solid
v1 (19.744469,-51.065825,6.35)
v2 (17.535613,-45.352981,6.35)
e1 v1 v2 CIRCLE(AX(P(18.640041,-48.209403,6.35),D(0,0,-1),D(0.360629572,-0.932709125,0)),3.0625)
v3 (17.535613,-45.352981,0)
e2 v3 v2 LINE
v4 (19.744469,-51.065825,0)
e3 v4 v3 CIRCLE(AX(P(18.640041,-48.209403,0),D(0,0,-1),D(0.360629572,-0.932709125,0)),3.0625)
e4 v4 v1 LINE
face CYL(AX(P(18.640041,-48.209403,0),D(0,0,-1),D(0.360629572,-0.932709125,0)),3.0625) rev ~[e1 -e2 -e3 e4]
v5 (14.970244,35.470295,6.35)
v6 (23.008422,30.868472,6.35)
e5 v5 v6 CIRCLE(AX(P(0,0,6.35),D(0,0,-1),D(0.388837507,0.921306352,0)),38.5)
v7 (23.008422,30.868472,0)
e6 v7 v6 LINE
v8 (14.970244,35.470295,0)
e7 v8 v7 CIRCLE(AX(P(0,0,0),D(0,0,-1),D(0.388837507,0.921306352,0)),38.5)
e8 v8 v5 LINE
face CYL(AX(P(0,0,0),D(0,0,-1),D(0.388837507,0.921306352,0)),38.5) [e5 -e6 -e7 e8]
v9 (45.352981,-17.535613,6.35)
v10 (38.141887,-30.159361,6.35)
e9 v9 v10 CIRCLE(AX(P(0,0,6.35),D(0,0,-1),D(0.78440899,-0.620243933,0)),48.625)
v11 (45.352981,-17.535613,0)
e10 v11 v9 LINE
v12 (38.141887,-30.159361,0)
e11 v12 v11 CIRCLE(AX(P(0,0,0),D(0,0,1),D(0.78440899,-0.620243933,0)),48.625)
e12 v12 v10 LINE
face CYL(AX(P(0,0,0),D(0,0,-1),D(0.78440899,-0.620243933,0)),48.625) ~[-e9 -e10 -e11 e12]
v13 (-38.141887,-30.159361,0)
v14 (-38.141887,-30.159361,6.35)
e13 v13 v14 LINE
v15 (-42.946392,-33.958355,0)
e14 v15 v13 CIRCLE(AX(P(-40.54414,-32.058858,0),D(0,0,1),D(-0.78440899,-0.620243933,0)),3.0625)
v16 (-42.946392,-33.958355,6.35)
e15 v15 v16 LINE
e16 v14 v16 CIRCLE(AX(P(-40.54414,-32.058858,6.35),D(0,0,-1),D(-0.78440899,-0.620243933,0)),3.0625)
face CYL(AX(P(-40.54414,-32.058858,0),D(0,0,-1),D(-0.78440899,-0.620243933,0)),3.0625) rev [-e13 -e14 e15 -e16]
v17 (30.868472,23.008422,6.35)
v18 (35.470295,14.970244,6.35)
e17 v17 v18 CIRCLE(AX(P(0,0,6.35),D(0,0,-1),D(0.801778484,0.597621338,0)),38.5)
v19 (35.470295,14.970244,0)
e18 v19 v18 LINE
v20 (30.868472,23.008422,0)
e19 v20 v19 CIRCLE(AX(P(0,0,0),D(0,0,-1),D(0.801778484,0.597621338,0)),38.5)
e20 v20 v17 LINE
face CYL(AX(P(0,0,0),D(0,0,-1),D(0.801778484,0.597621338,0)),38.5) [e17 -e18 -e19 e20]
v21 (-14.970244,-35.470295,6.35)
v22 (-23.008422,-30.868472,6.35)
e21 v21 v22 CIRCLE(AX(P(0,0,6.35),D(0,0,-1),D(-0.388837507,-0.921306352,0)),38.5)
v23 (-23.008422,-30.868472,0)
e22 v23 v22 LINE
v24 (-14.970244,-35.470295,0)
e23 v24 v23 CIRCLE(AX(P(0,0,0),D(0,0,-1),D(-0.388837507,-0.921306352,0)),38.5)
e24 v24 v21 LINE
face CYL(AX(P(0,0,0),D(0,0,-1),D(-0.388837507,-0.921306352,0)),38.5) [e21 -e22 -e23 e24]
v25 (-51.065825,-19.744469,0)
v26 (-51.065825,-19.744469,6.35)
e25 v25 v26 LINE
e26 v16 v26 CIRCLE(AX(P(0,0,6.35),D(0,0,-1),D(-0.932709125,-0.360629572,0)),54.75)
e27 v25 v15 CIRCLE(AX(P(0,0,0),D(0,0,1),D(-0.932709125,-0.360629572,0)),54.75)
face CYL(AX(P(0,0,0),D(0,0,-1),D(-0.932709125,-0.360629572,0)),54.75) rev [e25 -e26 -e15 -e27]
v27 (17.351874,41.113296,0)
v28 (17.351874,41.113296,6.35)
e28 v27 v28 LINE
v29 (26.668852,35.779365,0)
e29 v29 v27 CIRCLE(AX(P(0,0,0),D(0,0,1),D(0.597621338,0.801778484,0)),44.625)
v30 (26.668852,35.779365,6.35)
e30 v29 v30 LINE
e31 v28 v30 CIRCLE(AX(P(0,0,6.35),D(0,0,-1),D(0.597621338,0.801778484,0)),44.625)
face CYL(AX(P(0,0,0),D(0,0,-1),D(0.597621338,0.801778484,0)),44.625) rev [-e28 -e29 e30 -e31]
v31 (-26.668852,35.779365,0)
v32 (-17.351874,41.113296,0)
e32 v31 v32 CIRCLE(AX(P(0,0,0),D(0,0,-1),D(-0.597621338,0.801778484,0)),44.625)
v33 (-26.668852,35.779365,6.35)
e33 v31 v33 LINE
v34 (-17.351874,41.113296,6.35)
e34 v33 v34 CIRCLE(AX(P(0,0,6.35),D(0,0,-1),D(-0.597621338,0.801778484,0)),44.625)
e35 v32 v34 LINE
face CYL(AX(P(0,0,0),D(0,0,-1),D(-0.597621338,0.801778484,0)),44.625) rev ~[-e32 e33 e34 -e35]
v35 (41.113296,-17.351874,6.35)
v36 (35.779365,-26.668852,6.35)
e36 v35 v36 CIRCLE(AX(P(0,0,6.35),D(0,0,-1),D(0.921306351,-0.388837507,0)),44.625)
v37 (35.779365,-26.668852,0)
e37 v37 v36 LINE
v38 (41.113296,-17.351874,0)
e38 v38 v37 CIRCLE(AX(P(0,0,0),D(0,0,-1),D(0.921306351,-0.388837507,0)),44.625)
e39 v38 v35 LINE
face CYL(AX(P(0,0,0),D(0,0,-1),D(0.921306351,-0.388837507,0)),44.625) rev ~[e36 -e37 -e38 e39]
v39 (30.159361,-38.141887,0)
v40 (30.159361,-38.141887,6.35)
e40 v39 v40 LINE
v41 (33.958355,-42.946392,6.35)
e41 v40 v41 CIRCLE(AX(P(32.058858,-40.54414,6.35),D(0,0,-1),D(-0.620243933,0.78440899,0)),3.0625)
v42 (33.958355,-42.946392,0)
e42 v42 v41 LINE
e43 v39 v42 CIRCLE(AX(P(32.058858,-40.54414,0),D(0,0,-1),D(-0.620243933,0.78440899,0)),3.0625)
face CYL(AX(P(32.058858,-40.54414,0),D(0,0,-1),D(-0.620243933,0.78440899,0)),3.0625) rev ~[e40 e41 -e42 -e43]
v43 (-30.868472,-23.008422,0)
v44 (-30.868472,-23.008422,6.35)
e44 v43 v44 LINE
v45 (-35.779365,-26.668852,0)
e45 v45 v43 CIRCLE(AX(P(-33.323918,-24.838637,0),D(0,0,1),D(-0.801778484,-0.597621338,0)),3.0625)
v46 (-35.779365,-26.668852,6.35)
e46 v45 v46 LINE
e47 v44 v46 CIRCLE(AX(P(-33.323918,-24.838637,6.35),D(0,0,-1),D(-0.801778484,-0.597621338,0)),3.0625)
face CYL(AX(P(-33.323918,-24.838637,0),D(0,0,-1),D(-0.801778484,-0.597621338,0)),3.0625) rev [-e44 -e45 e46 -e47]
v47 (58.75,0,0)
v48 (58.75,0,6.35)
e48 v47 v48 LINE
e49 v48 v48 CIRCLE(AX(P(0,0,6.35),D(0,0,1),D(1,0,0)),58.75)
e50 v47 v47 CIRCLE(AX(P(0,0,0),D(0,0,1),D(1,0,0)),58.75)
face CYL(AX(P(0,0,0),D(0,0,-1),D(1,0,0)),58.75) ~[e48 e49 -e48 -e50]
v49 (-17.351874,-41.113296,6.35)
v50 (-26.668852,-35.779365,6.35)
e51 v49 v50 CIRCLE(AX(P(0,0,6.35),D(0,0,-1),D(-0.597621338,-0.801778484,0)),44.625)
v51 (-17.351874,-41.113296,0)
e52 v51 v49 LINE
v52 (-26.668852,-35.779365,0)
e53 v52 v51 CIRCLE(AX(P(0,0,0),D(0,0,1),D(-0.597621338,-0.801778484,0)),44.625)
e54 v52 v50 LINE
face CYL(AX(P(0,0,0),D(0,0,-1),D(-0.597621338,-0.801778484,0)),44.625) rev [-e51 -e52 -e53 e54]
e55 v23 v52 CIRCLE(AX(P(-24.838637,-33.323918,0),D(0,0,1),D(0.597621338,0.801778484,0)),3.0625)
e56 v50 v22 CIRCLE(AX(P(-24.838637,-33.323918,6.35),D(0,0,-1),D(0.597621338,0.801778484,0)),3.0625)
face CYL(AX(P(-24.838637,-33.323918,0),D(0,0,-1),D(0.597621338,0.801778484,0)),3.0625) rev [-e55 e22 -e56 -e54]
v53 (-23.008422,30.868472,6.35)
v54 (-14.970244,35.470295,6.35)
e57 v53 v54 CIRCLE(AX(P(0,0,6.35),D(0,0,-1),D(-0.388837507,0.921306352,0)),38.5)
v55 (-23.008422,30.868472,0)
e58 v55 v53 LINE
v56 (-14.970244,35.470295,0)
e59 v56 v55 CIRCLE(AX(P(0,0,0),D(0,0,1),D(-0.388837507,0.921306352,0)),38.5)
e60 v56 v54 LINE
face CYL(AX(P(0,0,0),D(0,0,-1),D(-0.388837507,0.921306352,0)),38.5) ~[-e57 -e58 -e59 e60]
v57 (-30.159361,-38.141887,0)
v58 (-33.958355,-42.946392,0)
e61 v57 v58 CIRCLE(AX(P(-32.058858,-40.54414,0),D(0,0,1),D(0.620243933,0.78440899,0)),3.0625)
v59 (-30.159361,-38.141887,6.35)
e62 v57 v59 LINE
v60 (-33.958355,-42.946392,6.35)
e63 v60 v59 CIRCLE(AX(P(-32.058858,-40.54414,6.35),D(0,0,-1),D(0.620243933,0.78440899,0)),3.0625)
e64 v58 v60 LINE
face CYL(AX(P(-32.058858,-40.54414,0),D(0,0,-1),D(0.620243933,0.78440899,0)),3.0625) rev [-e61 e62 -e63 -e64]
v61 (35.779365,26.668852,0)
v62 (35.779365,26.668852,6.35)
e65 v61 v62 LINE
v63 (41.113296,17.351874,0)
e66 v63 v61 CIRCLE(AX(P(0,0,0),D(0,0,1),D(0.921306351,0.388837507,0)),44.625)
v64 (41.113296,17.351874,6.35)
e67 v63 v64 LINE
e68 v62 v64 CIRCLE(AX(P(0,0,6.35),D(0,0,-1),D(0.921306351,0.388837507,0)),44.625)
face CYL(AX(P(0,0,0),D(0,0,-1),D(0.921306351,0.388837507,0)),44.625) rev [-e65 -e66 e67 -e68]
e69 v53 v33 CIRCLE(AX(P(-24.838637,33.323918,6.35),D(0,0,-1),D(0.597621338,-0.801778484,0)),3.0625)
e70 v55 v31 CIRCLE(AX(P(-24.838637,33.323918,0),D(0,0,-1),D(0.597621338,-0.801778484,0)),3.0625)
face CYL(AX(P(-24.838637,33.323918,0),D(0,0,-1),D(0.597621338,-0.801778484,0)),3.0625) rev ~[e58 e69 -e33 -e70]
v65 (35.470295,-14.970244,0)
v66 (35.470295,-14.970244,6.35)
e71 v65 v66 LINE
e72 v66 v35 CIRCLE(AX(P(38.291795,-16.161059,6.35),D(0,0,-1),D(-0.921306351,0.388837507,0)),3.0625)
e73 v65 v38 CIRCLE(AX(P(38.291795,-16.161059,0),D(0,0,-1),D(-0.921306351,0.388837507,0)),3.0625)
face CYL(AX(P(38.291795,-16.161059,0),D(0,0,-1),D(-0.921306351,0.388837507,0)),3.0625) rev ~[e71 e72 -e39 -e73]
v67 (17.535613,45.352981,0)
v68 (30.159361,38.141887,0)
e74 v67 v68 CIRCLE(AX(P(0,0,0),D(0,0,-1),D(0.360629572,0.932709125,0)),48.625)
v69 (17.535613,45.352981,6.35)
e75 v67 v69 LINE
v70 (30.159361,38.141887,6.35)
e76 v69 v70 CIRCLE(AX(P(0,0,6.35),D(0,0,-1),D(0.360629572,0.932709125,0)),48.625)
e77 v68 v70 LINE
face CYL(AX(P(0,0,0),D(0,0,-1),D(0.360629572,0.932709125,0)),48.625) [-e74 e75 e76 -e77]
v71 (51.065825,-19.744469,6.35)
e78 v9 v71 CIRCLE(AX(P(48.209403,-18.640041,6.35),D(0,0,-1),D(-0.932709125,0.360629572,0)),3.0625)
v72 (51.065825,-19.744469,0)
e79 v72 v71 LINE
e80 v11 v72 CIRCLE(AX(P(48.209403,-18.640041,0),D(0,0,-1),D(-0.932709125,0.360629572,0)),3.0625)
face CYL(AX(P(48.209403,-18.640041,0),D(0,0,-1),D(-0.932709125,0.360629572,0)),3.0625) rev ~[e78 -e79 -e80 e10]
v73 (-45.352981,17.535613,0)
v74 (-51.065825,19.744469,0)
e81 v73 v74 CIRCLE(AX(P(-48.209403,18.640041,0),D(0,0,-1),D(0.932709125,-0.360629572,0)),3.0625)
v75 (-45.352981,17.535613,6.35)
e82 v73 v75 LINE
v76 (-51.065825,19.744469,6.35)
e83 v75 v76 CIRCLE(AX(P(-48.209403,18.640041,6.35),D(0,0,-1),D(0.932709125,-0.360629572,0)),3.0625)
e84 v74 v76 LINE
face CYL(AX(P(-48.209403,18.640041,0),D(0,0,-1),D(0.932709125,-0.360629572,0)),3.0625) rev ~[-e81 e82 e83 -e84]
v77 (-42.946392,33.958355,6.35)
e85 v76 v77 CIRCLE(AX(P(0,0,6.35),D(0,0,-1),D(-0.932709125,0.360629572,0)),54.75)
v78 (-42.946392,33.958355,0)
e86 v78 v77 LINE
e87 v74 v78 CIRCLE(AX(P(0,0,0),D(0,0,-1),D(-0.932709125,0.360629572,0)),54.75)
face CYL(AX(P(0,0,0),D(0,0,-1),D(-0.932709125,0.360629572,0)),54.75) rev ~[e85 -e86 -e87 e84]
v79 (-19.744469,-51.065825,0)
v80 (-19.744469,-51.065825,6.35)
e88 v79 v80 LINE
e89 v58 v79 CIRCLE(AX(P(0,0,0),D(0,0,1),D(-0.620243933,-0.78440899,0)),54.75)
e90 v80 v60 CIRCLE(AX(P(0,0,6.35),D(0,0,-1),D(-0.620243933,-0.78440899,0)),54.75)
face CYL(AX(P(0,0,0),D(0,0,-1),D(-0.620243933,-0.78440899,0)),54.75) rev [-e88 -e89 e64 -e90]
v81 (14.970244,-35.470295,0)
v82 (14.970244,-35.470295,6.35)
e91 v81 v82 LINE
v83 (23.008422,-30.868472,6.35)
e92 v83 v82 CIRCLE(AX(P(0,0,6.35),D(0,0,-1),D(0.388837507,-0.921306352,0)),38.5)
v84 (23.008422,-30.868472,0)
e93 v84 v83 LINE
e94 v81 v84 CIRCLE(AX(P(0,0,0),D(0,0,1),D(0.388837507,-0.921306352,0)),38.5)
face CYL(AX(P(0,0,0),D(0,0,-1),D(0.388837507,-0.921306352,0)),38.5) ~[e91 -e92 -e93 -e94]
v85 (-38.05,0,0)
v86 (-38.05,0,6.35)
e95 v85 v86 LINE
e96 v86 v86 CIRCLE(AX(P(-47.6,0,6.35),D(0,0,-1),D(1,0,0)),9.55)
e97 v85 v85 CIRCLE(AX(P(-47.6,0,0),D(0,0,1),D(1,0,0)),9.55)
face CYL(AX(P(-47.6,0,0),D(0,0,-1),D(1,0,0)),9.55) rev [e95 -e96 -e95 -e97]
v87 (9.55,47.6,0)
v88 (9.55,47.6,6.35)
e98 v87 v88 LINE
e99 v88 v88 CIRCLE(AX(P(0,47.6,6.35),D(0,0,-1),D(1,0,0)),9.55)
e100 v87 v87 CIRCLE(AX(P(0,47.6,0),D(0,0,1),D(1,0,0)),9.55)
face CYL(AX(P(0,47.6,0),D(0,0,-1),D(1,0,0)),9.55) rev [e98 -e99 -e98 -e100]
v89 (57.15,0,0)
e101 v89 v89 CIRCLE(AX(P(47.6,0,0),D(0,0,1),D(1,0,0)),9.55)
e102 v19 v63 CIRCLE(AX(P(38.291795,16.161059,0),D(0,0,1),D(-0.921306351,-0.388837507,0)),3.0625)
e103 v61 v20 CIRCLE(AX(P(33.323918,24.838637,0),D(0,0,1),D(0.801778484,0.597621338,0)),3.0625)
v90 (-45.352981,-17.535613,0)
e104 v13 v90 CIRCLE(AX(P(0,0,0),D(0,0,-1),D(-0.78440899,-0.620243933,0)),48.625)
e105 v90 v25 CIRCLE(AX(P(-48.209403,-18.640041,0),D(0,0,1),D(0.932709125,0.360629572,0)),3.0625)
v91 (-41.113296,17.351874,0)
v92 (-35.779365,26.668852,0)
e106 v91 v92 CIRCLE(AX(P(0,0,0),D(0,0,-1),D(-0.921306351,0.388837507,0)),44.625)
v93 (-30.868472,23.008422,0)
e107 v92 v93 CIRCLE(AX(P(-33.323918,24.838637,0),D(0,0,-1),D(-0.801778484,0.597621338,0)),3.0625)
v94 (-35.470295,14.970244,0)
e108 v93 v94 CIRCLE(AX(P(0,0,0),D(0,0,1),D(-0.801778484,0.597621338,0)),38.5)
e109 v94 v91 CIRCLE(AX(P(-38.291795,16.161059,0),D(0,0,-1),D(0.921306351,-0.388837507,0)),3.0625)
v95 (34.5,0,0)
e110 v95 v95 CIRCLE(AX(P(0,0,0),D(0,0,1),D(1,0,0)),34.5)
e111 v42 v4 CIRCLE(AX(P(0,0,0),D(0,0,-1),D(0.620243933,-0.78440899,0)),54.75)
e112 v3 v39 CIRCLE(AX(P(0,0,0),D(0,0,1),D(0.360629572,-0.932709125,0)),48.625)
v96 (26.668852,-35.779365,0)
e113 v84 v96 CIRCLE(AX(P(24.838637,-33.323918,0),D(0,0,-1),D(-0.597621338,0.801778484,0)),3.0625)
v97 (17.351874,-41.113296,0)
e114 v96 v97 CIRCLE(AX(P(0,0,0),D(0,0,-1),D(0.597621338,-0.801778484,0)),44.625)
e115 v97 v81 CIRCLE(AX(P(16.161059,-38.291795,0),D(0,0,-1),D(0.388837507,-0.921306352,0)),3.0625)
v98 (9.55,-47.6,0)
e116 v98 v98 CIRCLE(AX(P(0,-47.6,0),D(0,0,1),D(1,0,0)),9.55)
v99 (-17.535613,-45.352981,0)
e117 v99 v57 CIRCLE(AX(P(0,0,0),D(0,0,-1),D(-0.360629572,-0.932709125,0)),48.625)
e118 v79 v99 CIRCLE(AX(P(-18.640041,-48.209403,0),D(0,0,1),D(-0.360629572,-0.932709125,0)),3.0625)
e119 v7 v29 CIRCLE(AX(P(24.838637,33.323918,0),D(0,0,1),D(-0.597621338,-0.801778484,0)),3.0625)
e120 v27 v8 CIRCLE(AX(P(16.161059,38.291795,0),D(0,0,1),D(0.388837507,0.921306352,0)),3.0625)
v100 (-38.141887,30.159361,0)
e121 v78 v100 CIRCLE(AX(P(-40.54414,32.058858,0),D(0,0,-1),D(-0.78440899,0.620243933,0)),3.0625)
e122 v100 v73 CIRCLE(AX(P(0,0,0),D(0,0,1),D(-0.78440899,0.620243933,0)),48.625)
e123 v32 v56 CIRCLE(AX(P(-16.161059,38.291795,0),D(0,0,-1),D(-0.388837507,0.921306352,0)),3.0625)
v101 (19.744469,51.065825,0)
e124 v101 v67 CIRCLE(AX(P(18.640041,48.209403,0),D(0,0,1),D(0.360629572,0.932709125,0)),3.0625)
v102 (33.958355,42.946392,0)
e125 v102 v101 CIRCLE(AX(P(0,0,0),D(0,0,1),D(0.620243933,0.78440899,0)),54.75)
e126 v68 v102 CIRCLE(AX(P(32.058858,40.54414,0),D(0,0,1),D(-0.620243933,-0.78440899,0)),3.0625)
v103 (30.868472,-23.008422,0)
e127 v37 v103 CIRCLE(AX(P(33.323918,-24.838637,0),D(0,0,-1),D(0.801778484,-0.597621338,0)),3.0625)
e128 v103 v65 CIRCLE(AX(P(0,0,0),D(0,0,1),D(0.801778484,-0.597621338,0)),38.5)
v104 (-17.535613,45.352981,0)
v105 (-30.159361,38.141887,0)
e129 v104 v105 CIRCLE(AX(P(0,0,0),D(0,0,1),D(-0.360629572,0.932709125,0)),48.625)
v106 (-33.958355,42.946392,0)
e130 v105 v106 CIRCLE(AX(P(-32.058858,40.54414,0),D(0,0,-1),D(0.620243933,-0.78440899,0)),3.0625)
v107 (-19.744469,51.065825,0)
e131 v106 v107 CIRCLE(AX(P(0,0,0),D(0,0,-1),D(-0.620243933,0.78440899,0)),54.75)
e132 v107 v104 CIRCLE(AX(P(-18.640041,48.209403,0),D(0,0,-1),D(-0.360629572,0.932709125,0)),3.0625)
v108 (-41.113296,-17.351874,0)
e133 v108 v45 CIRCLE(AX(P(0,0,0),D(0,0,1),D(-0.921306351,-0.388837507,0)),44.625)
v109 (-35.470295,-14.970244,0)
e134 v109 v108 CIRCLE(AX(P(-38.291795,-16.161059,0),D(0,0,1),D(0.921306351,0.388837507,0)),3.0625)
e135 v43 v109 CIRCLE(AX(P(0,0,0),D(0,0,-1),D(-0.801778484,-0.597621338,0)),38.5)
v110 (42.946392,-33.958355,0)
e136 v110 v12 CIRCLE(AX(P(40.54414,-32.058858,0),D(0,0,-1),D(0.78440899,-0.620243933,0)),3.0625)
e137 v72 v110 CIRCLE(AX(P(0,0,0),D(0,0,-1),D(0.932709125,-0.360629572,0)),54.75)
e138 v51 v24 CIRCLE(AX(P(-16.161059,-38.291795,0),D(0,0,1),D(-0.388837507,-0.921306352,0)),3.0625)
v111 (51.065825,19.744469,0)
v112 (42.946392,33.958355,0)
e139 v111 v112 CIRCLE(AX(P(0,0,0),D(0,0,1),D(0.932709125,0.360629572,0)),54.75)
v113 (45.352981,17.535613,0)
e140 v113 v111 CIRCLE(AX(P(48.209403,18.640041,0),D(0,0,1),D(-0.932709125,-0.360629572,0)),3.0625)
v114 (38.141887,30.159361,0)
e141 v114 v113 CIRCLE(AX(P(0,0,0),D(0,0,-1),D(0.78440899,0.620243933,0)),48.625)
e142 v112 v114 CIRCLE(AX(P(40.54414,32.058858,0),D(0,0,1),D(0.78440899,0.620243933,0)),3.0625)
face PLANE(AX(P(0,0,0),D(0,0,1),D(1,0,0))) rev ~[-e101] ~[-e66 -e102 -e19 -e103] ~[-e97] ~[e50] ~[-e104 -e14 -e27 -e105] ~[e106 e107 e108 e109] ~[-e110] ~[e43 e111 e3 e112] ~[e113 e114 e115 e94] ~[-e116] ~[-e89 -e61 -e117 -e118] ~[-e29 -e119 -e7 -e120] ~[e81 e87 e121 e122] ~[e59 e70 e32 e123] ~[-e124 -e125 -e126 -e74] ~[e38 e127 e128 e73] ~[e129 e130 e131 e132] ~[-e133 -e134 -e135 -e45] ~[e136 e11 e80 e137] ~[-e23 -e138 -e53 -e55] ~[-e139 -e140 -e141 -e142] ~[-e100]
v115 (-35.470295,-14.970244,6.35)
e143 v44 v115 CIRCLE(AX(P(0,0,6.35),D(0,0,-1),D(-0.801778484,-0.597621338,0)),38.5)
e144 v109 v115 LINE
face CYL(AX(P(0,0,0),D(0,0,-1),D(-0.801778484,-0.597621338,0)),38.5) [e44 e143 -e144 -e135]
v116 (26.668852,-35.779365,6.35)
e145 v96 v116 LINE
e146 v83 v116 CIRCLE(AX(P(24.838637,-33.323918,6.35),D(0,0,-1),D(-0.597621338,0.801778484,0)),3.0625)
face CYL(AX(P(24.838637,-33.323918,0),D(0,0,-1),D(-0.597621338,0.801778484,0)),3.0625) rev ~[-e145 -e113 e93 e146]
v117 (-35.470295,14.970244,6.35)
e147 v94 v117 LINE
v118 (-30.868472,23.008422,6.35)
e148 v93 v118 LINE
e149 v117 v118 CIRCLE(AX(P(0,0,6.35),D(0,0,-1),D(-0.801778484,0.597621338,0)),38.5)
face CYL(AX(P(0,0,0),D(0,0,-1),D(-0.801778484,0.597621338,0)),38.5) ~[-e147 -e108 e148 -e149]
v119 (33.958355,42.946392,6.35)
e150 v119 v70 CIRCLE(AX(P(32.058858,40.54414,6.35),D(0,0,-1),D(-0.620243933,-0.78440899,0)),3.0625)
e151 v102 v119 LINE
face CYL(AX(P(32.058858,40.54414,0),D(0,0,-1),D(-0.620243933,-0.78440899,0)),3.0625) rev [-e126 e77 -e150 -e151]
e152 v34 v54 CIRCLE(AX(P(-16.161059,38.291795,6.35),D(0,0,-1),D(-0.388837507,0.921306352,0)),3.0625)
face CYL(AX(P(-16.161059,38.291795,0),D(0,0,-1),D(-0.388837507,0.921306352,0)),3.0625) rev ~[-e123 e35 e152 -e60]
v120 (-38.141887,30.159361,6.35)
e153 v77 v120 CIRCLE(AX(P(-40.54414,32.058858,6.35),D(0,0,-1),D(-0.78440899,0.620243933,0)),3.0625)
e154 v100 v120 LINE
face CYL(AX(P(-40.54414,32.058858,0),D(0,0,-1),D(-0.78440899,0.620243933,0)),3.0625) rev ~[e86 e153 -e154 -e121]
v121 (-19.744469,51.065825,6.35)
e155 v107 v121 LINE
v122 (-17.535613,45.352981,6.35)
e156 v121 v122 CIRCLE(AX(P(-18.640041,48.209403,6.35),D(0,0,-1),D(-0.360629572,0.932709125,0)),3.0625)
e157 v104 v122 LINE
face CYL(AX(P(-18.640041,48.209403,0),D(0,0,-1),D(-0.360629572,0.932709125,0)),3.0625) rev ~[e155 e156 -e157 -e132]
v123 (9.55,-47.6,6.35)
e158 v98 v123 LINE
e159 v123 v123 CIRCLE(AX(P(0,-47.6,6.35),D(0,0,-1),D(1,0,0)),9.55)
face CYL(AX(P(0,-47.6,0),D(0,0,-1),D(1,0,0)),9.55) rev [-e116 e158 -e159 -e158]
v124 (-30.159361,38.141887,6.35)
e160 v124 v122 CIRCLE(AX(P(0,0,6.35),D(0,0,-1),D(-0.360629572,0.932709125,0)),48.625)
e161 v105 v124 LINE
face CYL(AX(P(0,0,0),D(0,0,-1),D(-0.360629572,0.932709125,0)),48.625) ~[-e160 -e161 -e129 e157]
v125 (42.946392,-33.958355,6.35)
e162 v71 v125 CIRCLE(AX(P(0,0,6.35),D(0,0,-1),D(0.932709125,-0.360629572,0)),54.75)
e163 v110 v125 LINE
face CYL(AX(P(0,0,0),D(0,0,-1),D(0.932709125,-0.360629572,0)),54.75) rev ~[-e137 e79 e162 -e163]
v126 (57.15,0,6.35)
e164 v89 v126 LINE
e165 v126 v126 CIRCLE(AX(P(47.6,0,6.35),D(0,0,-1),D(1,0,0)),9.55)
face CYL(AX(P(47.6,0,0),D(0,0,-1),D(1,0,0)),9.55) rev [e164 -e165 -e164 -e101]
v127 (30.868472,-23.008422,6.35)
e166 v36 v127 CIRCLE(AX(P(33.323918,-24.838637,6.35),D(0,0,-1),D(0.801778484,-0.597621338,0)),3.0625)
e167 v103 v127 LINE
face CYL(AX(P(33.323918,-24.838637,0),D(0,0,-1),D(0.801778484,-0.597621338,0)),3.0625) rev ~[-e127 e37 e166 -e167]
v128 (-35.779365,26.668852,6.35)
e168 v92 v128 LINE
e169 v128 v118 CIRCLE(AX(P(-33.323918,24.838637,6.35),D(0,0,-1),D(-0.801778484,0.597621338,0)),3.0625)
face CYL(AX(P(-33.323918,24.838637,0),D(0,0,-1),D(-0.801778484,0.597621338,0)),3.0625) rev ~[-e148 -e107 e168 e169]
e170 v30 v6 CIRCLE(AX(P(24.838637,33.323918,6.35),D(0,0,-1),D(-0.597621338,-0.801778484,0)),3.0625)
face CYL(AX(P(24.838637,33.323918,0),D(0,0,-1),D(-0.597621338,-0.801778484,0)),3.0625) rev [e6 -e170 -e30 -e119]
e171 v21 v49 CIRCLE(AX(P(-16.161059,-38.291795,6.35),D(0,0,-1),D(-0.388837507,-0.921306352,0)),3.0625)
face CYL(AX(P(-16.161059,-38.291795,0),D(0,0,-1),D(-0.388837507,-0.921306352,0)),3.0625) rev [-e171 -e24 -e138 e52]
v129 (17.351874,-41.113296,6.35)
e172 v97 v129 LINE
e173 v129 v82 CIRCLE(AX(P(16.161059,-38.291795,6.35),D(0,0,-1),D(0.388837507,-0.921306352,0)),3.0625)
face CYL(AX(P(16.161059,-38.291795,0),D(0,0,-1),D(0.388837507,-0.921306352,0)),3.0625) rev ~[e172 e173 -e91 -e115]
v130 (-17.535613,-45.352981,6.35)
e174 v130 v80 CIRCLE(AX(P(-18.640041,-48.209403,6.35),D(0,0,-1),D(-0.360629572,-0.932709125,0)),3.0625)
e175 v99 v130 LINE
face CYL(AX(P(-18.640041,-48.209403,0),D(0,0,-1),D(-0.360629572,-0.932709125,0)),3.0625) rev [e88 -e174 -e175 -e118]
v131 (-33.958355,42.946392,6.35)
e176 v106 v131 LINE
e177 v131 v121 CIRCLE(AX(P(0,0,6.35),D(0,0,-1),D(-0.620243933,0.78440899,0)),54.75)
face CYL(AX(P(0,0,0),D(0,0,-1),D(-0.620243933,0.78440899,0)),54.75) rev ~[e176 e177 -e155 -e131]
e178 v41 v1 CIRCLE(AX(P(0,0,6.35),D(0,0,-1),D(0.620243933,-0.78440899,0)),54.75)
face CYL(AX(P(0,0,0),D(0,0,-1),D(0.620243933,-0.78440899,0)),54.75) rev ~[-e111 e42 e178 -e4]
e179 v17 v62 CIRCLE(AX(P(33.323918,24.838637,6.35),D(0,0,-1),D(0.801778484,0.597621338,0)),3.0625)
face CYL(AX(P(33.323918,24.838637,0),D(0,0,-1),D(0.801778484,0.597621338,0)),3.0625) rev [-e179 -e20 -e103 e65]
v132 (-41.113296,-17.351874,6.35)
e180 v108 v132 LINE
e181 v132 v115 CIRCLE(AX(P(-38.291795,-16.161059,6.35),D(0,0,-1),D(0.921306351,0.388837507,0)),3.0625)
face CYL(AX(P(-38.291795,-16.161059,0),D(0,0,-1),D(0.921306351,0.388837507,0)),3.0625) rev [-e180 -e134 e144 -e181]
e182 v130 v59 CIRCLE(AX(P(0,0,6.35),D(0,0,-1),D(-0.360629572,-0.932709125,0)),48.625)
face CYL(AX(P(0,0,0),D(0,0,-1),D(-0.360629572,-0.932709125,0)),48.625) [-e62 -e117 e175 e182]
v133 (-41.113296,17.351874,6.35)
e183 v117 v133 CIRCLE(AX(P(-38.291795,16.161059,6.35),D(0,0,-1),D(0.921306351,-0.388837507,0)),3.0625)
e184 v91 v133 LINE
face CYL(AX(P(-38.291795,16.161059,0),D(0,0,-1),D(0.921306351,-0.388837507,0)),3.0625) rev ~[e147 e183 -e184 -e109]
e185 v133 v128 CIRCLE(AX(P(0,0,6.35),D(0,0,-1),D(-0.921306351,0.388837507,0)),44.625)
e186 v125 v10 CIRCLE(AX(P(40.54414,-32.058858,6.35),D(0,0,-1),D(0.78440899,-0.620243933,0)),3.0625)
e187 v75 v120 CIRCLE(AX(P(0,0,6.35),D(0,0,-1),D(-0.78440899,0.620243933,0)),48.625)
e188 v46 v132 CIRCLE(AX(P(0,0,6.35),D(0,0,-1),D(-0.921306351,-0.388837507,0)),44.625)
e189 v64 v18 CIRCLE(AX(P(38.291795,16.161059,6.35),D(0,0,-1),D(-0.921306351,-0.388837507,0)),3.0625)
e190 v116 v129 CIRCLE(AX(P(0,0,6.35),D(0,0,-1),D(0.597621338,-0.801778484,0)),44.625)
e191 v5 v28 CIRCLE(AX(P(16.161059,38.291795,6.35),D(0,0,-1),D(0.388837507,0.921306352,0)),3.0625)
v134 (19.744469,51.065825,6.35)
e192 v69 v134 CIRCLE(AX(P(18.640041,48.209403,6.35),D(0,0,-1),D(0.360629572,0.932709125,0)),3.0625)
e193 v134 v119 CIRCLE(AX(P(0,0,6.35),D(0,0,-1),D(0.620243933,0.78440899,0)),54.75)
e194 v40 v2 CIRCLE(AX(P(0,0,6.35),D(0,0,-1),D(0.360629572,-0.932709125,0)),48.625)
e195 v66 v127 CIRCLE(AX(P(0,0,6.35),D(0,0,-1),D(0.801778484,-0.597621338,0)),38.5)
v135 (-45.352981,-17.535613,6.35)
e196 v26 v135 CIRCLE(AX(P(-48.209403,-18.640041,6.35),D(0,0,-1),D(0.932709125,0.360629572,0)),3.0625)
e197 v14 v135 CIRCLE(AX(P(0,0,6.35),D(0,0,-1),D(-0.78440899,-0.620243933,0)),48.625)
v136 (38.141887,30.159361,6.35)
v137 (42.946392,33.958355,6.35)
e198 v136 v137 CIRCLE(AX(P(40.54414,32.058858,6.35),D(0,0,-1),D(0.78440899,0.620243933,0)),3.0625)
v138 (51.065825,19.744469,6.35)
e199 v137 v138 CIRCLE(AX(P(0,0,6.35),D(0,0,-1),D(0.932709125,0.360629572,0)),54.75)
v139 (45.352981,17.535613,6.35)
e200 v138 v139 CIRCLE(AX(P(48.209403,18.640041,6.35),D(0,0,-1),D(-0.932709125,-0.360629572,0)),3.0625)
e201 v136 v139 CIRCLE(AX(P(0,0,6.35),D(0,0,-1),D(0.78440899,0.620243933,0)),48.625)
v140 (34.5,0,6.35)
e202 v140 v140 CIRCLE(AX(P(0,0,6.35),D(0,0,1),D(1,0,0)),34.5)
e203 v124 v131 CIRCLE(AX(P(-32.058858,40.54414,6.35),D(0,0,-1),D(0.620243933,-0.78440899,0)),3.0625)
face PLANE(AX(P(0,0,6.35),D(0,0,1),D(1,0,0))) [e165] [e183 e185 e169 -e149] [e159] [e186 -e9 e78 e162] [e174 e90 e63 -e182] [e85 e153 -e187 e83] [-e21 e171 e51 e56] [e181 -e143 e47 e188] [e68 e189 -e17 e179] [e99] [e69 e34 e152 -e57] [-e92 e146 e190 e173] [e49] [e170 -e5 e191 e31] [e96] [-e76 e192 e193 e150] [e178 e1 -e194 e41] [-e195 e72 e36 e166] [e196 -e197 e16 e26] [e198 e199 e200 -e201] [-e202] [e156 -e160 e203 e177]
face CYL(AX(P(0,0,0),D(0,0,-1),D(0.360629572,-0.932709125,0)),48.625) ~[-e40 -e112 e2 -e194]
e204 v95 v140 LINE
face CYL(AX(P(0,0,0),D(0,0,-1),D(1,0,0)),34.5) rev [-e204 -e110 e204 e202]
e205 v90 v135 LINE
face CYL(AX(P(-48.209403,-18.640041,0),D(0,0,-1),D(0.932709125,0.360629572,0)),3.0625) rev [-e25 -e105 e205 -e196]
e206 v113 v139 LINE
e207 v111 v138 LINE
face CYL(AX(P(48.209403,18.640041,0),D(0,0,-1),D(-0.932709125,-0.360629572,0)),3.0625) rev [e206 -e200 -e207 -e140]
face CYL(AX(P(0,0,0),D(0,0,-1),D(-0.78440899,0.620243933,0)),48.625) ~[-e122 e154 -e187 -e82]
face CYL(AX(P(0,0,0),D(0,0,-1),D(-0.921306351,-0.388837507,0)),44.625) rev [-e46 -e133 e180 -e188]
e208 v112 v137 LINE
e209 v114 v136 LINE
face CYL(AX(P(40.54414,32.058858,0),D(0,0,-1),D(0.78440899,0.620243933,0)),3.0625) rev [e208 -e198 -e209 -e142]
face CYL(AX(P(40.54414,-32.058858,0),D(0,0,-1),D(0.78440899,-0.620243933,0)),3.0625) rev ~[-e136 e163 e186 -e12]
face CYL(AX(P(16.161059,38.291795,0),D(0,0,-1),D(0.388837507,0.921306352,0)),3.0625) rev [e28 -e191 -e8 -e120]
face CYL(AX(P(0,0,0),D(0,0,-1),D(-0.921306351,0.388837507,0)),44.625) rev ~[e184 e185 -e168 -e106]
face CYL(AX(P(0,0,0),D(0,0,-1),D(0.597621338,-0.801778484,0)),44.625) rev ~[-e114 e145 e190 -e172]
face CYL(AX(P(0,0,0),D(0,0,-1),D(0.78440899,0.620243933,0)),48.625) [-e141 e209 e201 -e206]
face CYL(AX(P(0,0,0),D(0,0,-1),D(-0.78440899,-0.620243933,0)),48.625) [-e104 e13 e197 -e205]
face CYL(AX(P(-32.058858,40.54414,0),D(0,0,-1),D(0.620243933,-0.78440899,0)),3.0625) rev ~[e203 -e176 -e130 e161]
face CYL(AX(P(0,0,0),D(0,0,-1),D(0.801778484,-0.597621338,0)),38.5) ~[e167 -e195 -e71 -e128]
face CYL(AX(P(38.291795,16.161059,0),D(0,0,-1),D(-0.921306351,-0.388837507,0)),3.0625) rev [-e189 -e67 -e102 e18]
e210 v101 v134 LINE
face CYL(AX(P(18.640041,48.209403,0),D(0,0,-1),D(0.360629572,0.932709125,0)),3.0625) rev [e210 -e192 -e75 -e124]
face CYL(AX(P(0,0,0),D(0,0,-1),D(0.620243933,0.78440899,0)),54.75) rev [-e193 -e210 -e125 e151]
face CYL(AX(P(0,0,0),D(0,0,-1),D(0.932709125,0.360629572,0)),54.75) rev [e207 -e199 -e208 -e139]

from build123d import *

# Parameters (mm, degrees)
SKETCH6_R           = 58.75
SKETCH6_R_2         = 34.5
BOSS_EXTRUDE1_DEPTH = 6.35
SKETCH5_R           = 9.55
CUT_EXTRUDE1_DEPTH  = 7.35
CUT_EXTRUDE3_DEPTH  = 7.35


with BuildPart() as part:
    # Sketch6 → Boss-Extrude1 (new body)
    with BuildSketch(Plane.XY):
        Circle(SKETCH6_R)
        Circle(SKETCH6_R_2, mode=Mode.SUBTRACT)
    extrude(amount=BOSS_EXTRUDE1_DEPTH)

    # Sketch5 → Cut-Extrude1 (cut, through all)
    with BuildSketch(Plane.XY):
        with Locations((0, 47.6)):
            Circle(SKETCH5_R)
        with Locations((47.6, 0)):
            Circle(SKETCH5_R)
        with Locations((0, -47.6)):
            Circle(SKETCH5_R)
        with Locations((-47.6, 0)):
            Circle(SKETCH5_R)
    extrude(amount=CUT_EXTRUDE1_DEPTH, mode=Mode.SUBTRACT)

    # Sketch9 → Cut-Extrude3 (cut, through all)
    with BuildSketch(Plane.XY):
        with BuildLine():
            ThreePointArc((33.958355337, 42.946392198), (27.156576229, 47.540328854), (19.744469053, 51.065824597))
            ThreePointArc((19.744469053, 51.065824597), (15.783619294, 49.313830965), (17.535612926, 45.352981206))
            ThreePointArc((17.535612926, 45.352981206), (24.118511765, 42.221890237), (30.159361247, 38.141887135))
            ThreePointArc((30.159361247, 38.141887135), (34.461110824, 38.644642621), (33.958355337, 42.946392198))
        make_face()
        with BuildLine():
            ThreePointArc((51.065824597, 19.744469053), (47.540328854, 27.156576229), (42.946392198, 33.958355337))
            ThreePointArc((42.946392198, 33.958355337), (38.644642621, 34.461110824), (38.141887135, 30.159361247))
            ThreePointArc((38.141887135, 30.159361247), (42.221890237, 24.118511765), (45.352981206, 17.535612926))
            ThreePointArc((45.352981206, 17.535612926), (49.313830965, 15.783619294), (51.065824597, 19.744469053))
        make_face()
        with BuildLine():
            ThreePointArc((26.668852196, 35.779364829), (22.171350506, 38.72753338), (17.351873742, 41.113295935))
            ThreePointArc((17.351873742, 41.113295935), (13.339558176, 39.482610098), (14.970244012, 35.470294532))
            ThreePointArc((14.970244012, 35.470294532), (19.128223966, 33.411989583), (23.008421502, 30.868471617))
            ThreePointArc((23.008421502, 30.868471617), (27.294083455, 31.493702876), (26.668852196, 35.779364829))
        make_face()
        with BuildLine():
            ThreePointArc((41.113295935, 17.351873742), (38.72753338, 22.171350506), (35.779364829, 26.668852196))
            ThreePointArc((35.779364829, 26.668852196), (31.493702876, 27.294083455), (30.868471617, 23.008421502))
            ThreePointArc((30.868471617, 23.008421502), (33.411989583, 19.128223966), (35.470294532, 14.970244012))
            ThreePointArc((35.470294532, 14.970244012), (39.482610098, 13.339558176), (41.113295935, 17.351873742))
        make_face()
        with BuildLine():
            ThreePointArc((-33.958355337, 42.946392198), (-27.156576229, 47.540328854), (-19.744469053, 51.065824597))
            ThreePointArc((-19.744469053, 51.065824597), (-15.783619294, 49.313830965), (-17.535612926, 45.352981206))
            ThreePointArc((-17.535612926, 45.352981206), (-24.118511765, 42.221890237), (-30.159361247, 38.141887135))
            ThreePointArc((-30.159361247, 38.141887135), (-34.461110824, 38.644642621), (-33.958355337, 42.946392198))
        make_face()
        with BuildLine():
            ThreePointArc((-51.065824597, 19.744469053), (-47.540328854, 27.156576229), (-42.946392198, 33.958355337))
            ThreePointArc((-42.946392198, 33.958355337), (-38.644642621, 34.461110824), (-38.141887135, 30.159361247))
            ThreePointArc((-38.141887135, 30.159361247), (-42.221890237, 24.118511765), (-45.352981206, 17.535612926))
            ThreePointArc((-45.352981206, 17.535612926), (-49.313830965, 15.783619294), (-51.065824597, 19.744469053))
        make_face()
        with BuildLine():
            ThreePointArc((-26.668852196, 35.779364829), (-22.171350506, 38.72753338), (-17.351873742, 41.113295935))
            ThreePointArc((-17.351873742, 41.113295935), (-13.339558176, 39.482610098), (-14.970244012, 35.470294532))
            ThreePointArc((-14.970244012, 35.470294532), (-19.128223966, 33.411989583), (-23.008421502, 30.868471617))
            ThreePointArc((-23.008421502, 30.868471617), (-27.294083455, 31.493702876), (-26.668852196, 35.779364829))
        make_face()
        with BuildLine():
            ThreePointArc((-41.113295935, 17.351873742), (-38.72753338, 22.171350506), (-35.779364829, 26.668852196))
            ThreePointArc((-35.779364829, 26.668852196), (-31.493702876, 27.294083455), (-30.868471617, 23.008421502))
            ThreePointArc((-30.868471617, 23.008421502), (-33.411989583, 19.128223966), (-35.470294532, 14.970244012))
            ThreePointArc((-35.470294532, 14.970244012), (-39.482610098, 13.339558176), (-41.113295935, 17.351873742))
        make_face()
        with BuildLine():
            ThreePointArc((-33.958355337, -42.946392198), (-27.156576229, -47.540328854), (-19.744469053, -51.065824597))
            ThreePointArc((-19.744469053, -51.065824597), (-15.783619294, -49.313830965), (-17.535612926, -45.352981206))
            ThreePointArc((-17.535612926, -45.352981206), (-24.118511765, -42.221890237), (-30.159361247, -38.141887135))
            ThreePointArc((-30.159361247, -38.141887135), (-34.461110824, -38.644642621), (-33.958355337, -42.946392198))
        make_face()
        with BuildLine():
            ThreePointArc((-51.065824597, -19.744469053), (-47.540328854, -27.156576229), (-42.946392198, -33.958355337))
            ThreePointArc((-42.946392198, -33.958355337), (-38.644642621, -34.461110824), (-38.141887135, -30.159361247))
            ThreePointArc((-38.141887135, -30.159361247), (-42.221890237, -24.118511765), (-45.352981206, -17.535612926))
            ThreePointArc((-45.352981206, -17.535612926), (-49.313830965, -15.783619294), (-51.065824597, -19.744469053))
        make_face()
        with BuildLine():
            ThreePointArc((-26.668852196, -35.779364829), (-22.171350506, -38.72753338), (-17.351873742, -41.113295935))
            ThreePointArc((-17.351873742, -41.113295935), (-13.339558176, -39.482610098), (-14.970244012, -35.470294532))
            ThreePointArc((-14.970244012, -35.470294532), (-19.128223966, -33.411989583), (-23.008421502, -30.868471617))
            ThreePointArc((-23.008421502, -30.868471617), (-27.294083455, -31.493702876), (-26.668852196, -35.779364829))
        make_face()
        with BuildLine():
            ThreePointArc((-41.113295935, -17.351873742), (-38.72753338, -22.171350506), (-35.779364829, -26.668852196))
            ThreePointArc((-35.779364829, -26.668852196), (-31.493702876, -27.294083455), (-30.868471617, -23.008421502))
            ThreePointArc((-30.868471617, -23.008421502), (-33.411989583, -19.128223966), (-35.470294532, -14.970244012))
            ThreePointArc((-35.470294532, -14.970244012), (-39.482610098, -13.339558176), (-41.113295935, -17.351873742))
        make_face()
        with BuildLine():
            ThreePointArc((33.958355337, -42.946392198), (27.156576229, -47.540328854), (19.744469053, -51.065824597))
            ThreePointArc((19.744469053, -51.065824597), (15.783619294, -49.313830965), (17.535612926, -45.352981206))
            ThreePointArc((17.535612926, -45.352981206), (24.118511765, -42.221890237), (30.159361247, -38.141887135))
            ThreePointArc((30.159361247, -38.141887135), (34.461110824, -38.644642621), (33.958355337, -42.946392198))
        make_face()
        with BuildLine():
            ThreePointArc((26.668852196, -35.779364829), (22.171350506, -38.72753338), (17.351873742, -41.113295935))
            ThreePointArc((17.351873742, -41.113295935), (13.339558176, -39.482610098), (14.970244012, -35.470294532))
            ThreePointArc((14.970244012, -35.470294532), (19.128223966, -33.411989583), (23.008421502, -30.868471617))
            ThreePointArc((23.008421502, -30.868471617), (27.294083455, -31.493702876), (26.668852196, -35.779364829))
        make_face()
        with BuildLine():
            ThreePointArc((41.113295935, -17.351873742), (38.72753338, -22.171350506), (35.779364829, -26.668852196))
            ThreePointArc((35.779364829, -26.668852196), (31.493702876, -27.294083455), (30.868471617, -23.008421502))
            ThreePointArc((30.868471617, -23.008421502), (33.411989583, -19.128223966), (35.470294532, -14.970244012))
            ThreePointArc((35.470294532, -14.970244012), (39.482610098, -13.339558176), (41.113295935, -17.351873742))
        make_face()
        with BuildLine():
            ThreePointArc((51.065824597, -19.744469053), (47.540328854, -27.156576229), (42.946392198, -33.958355337))
            ThreePointArc((42.946392198, -33.958355337), (38.644642621, -34.461110824), (38.141887135, -30.159361247))
            ThreePointArc((38.141887135, -30.159361247), (42.221890237, -24.118511765), (45.352981206, -17.535612926))
            ThreePointArc((45.352981206, -17.535612926), (49.313830965, -15.783619294), (51.065824597, -19.744469053))
        make_face()
    extrude(amount=CUT_EXTRUDE3_DEPTH, mode=Mode.SUBTRACT)


solid = part.part
